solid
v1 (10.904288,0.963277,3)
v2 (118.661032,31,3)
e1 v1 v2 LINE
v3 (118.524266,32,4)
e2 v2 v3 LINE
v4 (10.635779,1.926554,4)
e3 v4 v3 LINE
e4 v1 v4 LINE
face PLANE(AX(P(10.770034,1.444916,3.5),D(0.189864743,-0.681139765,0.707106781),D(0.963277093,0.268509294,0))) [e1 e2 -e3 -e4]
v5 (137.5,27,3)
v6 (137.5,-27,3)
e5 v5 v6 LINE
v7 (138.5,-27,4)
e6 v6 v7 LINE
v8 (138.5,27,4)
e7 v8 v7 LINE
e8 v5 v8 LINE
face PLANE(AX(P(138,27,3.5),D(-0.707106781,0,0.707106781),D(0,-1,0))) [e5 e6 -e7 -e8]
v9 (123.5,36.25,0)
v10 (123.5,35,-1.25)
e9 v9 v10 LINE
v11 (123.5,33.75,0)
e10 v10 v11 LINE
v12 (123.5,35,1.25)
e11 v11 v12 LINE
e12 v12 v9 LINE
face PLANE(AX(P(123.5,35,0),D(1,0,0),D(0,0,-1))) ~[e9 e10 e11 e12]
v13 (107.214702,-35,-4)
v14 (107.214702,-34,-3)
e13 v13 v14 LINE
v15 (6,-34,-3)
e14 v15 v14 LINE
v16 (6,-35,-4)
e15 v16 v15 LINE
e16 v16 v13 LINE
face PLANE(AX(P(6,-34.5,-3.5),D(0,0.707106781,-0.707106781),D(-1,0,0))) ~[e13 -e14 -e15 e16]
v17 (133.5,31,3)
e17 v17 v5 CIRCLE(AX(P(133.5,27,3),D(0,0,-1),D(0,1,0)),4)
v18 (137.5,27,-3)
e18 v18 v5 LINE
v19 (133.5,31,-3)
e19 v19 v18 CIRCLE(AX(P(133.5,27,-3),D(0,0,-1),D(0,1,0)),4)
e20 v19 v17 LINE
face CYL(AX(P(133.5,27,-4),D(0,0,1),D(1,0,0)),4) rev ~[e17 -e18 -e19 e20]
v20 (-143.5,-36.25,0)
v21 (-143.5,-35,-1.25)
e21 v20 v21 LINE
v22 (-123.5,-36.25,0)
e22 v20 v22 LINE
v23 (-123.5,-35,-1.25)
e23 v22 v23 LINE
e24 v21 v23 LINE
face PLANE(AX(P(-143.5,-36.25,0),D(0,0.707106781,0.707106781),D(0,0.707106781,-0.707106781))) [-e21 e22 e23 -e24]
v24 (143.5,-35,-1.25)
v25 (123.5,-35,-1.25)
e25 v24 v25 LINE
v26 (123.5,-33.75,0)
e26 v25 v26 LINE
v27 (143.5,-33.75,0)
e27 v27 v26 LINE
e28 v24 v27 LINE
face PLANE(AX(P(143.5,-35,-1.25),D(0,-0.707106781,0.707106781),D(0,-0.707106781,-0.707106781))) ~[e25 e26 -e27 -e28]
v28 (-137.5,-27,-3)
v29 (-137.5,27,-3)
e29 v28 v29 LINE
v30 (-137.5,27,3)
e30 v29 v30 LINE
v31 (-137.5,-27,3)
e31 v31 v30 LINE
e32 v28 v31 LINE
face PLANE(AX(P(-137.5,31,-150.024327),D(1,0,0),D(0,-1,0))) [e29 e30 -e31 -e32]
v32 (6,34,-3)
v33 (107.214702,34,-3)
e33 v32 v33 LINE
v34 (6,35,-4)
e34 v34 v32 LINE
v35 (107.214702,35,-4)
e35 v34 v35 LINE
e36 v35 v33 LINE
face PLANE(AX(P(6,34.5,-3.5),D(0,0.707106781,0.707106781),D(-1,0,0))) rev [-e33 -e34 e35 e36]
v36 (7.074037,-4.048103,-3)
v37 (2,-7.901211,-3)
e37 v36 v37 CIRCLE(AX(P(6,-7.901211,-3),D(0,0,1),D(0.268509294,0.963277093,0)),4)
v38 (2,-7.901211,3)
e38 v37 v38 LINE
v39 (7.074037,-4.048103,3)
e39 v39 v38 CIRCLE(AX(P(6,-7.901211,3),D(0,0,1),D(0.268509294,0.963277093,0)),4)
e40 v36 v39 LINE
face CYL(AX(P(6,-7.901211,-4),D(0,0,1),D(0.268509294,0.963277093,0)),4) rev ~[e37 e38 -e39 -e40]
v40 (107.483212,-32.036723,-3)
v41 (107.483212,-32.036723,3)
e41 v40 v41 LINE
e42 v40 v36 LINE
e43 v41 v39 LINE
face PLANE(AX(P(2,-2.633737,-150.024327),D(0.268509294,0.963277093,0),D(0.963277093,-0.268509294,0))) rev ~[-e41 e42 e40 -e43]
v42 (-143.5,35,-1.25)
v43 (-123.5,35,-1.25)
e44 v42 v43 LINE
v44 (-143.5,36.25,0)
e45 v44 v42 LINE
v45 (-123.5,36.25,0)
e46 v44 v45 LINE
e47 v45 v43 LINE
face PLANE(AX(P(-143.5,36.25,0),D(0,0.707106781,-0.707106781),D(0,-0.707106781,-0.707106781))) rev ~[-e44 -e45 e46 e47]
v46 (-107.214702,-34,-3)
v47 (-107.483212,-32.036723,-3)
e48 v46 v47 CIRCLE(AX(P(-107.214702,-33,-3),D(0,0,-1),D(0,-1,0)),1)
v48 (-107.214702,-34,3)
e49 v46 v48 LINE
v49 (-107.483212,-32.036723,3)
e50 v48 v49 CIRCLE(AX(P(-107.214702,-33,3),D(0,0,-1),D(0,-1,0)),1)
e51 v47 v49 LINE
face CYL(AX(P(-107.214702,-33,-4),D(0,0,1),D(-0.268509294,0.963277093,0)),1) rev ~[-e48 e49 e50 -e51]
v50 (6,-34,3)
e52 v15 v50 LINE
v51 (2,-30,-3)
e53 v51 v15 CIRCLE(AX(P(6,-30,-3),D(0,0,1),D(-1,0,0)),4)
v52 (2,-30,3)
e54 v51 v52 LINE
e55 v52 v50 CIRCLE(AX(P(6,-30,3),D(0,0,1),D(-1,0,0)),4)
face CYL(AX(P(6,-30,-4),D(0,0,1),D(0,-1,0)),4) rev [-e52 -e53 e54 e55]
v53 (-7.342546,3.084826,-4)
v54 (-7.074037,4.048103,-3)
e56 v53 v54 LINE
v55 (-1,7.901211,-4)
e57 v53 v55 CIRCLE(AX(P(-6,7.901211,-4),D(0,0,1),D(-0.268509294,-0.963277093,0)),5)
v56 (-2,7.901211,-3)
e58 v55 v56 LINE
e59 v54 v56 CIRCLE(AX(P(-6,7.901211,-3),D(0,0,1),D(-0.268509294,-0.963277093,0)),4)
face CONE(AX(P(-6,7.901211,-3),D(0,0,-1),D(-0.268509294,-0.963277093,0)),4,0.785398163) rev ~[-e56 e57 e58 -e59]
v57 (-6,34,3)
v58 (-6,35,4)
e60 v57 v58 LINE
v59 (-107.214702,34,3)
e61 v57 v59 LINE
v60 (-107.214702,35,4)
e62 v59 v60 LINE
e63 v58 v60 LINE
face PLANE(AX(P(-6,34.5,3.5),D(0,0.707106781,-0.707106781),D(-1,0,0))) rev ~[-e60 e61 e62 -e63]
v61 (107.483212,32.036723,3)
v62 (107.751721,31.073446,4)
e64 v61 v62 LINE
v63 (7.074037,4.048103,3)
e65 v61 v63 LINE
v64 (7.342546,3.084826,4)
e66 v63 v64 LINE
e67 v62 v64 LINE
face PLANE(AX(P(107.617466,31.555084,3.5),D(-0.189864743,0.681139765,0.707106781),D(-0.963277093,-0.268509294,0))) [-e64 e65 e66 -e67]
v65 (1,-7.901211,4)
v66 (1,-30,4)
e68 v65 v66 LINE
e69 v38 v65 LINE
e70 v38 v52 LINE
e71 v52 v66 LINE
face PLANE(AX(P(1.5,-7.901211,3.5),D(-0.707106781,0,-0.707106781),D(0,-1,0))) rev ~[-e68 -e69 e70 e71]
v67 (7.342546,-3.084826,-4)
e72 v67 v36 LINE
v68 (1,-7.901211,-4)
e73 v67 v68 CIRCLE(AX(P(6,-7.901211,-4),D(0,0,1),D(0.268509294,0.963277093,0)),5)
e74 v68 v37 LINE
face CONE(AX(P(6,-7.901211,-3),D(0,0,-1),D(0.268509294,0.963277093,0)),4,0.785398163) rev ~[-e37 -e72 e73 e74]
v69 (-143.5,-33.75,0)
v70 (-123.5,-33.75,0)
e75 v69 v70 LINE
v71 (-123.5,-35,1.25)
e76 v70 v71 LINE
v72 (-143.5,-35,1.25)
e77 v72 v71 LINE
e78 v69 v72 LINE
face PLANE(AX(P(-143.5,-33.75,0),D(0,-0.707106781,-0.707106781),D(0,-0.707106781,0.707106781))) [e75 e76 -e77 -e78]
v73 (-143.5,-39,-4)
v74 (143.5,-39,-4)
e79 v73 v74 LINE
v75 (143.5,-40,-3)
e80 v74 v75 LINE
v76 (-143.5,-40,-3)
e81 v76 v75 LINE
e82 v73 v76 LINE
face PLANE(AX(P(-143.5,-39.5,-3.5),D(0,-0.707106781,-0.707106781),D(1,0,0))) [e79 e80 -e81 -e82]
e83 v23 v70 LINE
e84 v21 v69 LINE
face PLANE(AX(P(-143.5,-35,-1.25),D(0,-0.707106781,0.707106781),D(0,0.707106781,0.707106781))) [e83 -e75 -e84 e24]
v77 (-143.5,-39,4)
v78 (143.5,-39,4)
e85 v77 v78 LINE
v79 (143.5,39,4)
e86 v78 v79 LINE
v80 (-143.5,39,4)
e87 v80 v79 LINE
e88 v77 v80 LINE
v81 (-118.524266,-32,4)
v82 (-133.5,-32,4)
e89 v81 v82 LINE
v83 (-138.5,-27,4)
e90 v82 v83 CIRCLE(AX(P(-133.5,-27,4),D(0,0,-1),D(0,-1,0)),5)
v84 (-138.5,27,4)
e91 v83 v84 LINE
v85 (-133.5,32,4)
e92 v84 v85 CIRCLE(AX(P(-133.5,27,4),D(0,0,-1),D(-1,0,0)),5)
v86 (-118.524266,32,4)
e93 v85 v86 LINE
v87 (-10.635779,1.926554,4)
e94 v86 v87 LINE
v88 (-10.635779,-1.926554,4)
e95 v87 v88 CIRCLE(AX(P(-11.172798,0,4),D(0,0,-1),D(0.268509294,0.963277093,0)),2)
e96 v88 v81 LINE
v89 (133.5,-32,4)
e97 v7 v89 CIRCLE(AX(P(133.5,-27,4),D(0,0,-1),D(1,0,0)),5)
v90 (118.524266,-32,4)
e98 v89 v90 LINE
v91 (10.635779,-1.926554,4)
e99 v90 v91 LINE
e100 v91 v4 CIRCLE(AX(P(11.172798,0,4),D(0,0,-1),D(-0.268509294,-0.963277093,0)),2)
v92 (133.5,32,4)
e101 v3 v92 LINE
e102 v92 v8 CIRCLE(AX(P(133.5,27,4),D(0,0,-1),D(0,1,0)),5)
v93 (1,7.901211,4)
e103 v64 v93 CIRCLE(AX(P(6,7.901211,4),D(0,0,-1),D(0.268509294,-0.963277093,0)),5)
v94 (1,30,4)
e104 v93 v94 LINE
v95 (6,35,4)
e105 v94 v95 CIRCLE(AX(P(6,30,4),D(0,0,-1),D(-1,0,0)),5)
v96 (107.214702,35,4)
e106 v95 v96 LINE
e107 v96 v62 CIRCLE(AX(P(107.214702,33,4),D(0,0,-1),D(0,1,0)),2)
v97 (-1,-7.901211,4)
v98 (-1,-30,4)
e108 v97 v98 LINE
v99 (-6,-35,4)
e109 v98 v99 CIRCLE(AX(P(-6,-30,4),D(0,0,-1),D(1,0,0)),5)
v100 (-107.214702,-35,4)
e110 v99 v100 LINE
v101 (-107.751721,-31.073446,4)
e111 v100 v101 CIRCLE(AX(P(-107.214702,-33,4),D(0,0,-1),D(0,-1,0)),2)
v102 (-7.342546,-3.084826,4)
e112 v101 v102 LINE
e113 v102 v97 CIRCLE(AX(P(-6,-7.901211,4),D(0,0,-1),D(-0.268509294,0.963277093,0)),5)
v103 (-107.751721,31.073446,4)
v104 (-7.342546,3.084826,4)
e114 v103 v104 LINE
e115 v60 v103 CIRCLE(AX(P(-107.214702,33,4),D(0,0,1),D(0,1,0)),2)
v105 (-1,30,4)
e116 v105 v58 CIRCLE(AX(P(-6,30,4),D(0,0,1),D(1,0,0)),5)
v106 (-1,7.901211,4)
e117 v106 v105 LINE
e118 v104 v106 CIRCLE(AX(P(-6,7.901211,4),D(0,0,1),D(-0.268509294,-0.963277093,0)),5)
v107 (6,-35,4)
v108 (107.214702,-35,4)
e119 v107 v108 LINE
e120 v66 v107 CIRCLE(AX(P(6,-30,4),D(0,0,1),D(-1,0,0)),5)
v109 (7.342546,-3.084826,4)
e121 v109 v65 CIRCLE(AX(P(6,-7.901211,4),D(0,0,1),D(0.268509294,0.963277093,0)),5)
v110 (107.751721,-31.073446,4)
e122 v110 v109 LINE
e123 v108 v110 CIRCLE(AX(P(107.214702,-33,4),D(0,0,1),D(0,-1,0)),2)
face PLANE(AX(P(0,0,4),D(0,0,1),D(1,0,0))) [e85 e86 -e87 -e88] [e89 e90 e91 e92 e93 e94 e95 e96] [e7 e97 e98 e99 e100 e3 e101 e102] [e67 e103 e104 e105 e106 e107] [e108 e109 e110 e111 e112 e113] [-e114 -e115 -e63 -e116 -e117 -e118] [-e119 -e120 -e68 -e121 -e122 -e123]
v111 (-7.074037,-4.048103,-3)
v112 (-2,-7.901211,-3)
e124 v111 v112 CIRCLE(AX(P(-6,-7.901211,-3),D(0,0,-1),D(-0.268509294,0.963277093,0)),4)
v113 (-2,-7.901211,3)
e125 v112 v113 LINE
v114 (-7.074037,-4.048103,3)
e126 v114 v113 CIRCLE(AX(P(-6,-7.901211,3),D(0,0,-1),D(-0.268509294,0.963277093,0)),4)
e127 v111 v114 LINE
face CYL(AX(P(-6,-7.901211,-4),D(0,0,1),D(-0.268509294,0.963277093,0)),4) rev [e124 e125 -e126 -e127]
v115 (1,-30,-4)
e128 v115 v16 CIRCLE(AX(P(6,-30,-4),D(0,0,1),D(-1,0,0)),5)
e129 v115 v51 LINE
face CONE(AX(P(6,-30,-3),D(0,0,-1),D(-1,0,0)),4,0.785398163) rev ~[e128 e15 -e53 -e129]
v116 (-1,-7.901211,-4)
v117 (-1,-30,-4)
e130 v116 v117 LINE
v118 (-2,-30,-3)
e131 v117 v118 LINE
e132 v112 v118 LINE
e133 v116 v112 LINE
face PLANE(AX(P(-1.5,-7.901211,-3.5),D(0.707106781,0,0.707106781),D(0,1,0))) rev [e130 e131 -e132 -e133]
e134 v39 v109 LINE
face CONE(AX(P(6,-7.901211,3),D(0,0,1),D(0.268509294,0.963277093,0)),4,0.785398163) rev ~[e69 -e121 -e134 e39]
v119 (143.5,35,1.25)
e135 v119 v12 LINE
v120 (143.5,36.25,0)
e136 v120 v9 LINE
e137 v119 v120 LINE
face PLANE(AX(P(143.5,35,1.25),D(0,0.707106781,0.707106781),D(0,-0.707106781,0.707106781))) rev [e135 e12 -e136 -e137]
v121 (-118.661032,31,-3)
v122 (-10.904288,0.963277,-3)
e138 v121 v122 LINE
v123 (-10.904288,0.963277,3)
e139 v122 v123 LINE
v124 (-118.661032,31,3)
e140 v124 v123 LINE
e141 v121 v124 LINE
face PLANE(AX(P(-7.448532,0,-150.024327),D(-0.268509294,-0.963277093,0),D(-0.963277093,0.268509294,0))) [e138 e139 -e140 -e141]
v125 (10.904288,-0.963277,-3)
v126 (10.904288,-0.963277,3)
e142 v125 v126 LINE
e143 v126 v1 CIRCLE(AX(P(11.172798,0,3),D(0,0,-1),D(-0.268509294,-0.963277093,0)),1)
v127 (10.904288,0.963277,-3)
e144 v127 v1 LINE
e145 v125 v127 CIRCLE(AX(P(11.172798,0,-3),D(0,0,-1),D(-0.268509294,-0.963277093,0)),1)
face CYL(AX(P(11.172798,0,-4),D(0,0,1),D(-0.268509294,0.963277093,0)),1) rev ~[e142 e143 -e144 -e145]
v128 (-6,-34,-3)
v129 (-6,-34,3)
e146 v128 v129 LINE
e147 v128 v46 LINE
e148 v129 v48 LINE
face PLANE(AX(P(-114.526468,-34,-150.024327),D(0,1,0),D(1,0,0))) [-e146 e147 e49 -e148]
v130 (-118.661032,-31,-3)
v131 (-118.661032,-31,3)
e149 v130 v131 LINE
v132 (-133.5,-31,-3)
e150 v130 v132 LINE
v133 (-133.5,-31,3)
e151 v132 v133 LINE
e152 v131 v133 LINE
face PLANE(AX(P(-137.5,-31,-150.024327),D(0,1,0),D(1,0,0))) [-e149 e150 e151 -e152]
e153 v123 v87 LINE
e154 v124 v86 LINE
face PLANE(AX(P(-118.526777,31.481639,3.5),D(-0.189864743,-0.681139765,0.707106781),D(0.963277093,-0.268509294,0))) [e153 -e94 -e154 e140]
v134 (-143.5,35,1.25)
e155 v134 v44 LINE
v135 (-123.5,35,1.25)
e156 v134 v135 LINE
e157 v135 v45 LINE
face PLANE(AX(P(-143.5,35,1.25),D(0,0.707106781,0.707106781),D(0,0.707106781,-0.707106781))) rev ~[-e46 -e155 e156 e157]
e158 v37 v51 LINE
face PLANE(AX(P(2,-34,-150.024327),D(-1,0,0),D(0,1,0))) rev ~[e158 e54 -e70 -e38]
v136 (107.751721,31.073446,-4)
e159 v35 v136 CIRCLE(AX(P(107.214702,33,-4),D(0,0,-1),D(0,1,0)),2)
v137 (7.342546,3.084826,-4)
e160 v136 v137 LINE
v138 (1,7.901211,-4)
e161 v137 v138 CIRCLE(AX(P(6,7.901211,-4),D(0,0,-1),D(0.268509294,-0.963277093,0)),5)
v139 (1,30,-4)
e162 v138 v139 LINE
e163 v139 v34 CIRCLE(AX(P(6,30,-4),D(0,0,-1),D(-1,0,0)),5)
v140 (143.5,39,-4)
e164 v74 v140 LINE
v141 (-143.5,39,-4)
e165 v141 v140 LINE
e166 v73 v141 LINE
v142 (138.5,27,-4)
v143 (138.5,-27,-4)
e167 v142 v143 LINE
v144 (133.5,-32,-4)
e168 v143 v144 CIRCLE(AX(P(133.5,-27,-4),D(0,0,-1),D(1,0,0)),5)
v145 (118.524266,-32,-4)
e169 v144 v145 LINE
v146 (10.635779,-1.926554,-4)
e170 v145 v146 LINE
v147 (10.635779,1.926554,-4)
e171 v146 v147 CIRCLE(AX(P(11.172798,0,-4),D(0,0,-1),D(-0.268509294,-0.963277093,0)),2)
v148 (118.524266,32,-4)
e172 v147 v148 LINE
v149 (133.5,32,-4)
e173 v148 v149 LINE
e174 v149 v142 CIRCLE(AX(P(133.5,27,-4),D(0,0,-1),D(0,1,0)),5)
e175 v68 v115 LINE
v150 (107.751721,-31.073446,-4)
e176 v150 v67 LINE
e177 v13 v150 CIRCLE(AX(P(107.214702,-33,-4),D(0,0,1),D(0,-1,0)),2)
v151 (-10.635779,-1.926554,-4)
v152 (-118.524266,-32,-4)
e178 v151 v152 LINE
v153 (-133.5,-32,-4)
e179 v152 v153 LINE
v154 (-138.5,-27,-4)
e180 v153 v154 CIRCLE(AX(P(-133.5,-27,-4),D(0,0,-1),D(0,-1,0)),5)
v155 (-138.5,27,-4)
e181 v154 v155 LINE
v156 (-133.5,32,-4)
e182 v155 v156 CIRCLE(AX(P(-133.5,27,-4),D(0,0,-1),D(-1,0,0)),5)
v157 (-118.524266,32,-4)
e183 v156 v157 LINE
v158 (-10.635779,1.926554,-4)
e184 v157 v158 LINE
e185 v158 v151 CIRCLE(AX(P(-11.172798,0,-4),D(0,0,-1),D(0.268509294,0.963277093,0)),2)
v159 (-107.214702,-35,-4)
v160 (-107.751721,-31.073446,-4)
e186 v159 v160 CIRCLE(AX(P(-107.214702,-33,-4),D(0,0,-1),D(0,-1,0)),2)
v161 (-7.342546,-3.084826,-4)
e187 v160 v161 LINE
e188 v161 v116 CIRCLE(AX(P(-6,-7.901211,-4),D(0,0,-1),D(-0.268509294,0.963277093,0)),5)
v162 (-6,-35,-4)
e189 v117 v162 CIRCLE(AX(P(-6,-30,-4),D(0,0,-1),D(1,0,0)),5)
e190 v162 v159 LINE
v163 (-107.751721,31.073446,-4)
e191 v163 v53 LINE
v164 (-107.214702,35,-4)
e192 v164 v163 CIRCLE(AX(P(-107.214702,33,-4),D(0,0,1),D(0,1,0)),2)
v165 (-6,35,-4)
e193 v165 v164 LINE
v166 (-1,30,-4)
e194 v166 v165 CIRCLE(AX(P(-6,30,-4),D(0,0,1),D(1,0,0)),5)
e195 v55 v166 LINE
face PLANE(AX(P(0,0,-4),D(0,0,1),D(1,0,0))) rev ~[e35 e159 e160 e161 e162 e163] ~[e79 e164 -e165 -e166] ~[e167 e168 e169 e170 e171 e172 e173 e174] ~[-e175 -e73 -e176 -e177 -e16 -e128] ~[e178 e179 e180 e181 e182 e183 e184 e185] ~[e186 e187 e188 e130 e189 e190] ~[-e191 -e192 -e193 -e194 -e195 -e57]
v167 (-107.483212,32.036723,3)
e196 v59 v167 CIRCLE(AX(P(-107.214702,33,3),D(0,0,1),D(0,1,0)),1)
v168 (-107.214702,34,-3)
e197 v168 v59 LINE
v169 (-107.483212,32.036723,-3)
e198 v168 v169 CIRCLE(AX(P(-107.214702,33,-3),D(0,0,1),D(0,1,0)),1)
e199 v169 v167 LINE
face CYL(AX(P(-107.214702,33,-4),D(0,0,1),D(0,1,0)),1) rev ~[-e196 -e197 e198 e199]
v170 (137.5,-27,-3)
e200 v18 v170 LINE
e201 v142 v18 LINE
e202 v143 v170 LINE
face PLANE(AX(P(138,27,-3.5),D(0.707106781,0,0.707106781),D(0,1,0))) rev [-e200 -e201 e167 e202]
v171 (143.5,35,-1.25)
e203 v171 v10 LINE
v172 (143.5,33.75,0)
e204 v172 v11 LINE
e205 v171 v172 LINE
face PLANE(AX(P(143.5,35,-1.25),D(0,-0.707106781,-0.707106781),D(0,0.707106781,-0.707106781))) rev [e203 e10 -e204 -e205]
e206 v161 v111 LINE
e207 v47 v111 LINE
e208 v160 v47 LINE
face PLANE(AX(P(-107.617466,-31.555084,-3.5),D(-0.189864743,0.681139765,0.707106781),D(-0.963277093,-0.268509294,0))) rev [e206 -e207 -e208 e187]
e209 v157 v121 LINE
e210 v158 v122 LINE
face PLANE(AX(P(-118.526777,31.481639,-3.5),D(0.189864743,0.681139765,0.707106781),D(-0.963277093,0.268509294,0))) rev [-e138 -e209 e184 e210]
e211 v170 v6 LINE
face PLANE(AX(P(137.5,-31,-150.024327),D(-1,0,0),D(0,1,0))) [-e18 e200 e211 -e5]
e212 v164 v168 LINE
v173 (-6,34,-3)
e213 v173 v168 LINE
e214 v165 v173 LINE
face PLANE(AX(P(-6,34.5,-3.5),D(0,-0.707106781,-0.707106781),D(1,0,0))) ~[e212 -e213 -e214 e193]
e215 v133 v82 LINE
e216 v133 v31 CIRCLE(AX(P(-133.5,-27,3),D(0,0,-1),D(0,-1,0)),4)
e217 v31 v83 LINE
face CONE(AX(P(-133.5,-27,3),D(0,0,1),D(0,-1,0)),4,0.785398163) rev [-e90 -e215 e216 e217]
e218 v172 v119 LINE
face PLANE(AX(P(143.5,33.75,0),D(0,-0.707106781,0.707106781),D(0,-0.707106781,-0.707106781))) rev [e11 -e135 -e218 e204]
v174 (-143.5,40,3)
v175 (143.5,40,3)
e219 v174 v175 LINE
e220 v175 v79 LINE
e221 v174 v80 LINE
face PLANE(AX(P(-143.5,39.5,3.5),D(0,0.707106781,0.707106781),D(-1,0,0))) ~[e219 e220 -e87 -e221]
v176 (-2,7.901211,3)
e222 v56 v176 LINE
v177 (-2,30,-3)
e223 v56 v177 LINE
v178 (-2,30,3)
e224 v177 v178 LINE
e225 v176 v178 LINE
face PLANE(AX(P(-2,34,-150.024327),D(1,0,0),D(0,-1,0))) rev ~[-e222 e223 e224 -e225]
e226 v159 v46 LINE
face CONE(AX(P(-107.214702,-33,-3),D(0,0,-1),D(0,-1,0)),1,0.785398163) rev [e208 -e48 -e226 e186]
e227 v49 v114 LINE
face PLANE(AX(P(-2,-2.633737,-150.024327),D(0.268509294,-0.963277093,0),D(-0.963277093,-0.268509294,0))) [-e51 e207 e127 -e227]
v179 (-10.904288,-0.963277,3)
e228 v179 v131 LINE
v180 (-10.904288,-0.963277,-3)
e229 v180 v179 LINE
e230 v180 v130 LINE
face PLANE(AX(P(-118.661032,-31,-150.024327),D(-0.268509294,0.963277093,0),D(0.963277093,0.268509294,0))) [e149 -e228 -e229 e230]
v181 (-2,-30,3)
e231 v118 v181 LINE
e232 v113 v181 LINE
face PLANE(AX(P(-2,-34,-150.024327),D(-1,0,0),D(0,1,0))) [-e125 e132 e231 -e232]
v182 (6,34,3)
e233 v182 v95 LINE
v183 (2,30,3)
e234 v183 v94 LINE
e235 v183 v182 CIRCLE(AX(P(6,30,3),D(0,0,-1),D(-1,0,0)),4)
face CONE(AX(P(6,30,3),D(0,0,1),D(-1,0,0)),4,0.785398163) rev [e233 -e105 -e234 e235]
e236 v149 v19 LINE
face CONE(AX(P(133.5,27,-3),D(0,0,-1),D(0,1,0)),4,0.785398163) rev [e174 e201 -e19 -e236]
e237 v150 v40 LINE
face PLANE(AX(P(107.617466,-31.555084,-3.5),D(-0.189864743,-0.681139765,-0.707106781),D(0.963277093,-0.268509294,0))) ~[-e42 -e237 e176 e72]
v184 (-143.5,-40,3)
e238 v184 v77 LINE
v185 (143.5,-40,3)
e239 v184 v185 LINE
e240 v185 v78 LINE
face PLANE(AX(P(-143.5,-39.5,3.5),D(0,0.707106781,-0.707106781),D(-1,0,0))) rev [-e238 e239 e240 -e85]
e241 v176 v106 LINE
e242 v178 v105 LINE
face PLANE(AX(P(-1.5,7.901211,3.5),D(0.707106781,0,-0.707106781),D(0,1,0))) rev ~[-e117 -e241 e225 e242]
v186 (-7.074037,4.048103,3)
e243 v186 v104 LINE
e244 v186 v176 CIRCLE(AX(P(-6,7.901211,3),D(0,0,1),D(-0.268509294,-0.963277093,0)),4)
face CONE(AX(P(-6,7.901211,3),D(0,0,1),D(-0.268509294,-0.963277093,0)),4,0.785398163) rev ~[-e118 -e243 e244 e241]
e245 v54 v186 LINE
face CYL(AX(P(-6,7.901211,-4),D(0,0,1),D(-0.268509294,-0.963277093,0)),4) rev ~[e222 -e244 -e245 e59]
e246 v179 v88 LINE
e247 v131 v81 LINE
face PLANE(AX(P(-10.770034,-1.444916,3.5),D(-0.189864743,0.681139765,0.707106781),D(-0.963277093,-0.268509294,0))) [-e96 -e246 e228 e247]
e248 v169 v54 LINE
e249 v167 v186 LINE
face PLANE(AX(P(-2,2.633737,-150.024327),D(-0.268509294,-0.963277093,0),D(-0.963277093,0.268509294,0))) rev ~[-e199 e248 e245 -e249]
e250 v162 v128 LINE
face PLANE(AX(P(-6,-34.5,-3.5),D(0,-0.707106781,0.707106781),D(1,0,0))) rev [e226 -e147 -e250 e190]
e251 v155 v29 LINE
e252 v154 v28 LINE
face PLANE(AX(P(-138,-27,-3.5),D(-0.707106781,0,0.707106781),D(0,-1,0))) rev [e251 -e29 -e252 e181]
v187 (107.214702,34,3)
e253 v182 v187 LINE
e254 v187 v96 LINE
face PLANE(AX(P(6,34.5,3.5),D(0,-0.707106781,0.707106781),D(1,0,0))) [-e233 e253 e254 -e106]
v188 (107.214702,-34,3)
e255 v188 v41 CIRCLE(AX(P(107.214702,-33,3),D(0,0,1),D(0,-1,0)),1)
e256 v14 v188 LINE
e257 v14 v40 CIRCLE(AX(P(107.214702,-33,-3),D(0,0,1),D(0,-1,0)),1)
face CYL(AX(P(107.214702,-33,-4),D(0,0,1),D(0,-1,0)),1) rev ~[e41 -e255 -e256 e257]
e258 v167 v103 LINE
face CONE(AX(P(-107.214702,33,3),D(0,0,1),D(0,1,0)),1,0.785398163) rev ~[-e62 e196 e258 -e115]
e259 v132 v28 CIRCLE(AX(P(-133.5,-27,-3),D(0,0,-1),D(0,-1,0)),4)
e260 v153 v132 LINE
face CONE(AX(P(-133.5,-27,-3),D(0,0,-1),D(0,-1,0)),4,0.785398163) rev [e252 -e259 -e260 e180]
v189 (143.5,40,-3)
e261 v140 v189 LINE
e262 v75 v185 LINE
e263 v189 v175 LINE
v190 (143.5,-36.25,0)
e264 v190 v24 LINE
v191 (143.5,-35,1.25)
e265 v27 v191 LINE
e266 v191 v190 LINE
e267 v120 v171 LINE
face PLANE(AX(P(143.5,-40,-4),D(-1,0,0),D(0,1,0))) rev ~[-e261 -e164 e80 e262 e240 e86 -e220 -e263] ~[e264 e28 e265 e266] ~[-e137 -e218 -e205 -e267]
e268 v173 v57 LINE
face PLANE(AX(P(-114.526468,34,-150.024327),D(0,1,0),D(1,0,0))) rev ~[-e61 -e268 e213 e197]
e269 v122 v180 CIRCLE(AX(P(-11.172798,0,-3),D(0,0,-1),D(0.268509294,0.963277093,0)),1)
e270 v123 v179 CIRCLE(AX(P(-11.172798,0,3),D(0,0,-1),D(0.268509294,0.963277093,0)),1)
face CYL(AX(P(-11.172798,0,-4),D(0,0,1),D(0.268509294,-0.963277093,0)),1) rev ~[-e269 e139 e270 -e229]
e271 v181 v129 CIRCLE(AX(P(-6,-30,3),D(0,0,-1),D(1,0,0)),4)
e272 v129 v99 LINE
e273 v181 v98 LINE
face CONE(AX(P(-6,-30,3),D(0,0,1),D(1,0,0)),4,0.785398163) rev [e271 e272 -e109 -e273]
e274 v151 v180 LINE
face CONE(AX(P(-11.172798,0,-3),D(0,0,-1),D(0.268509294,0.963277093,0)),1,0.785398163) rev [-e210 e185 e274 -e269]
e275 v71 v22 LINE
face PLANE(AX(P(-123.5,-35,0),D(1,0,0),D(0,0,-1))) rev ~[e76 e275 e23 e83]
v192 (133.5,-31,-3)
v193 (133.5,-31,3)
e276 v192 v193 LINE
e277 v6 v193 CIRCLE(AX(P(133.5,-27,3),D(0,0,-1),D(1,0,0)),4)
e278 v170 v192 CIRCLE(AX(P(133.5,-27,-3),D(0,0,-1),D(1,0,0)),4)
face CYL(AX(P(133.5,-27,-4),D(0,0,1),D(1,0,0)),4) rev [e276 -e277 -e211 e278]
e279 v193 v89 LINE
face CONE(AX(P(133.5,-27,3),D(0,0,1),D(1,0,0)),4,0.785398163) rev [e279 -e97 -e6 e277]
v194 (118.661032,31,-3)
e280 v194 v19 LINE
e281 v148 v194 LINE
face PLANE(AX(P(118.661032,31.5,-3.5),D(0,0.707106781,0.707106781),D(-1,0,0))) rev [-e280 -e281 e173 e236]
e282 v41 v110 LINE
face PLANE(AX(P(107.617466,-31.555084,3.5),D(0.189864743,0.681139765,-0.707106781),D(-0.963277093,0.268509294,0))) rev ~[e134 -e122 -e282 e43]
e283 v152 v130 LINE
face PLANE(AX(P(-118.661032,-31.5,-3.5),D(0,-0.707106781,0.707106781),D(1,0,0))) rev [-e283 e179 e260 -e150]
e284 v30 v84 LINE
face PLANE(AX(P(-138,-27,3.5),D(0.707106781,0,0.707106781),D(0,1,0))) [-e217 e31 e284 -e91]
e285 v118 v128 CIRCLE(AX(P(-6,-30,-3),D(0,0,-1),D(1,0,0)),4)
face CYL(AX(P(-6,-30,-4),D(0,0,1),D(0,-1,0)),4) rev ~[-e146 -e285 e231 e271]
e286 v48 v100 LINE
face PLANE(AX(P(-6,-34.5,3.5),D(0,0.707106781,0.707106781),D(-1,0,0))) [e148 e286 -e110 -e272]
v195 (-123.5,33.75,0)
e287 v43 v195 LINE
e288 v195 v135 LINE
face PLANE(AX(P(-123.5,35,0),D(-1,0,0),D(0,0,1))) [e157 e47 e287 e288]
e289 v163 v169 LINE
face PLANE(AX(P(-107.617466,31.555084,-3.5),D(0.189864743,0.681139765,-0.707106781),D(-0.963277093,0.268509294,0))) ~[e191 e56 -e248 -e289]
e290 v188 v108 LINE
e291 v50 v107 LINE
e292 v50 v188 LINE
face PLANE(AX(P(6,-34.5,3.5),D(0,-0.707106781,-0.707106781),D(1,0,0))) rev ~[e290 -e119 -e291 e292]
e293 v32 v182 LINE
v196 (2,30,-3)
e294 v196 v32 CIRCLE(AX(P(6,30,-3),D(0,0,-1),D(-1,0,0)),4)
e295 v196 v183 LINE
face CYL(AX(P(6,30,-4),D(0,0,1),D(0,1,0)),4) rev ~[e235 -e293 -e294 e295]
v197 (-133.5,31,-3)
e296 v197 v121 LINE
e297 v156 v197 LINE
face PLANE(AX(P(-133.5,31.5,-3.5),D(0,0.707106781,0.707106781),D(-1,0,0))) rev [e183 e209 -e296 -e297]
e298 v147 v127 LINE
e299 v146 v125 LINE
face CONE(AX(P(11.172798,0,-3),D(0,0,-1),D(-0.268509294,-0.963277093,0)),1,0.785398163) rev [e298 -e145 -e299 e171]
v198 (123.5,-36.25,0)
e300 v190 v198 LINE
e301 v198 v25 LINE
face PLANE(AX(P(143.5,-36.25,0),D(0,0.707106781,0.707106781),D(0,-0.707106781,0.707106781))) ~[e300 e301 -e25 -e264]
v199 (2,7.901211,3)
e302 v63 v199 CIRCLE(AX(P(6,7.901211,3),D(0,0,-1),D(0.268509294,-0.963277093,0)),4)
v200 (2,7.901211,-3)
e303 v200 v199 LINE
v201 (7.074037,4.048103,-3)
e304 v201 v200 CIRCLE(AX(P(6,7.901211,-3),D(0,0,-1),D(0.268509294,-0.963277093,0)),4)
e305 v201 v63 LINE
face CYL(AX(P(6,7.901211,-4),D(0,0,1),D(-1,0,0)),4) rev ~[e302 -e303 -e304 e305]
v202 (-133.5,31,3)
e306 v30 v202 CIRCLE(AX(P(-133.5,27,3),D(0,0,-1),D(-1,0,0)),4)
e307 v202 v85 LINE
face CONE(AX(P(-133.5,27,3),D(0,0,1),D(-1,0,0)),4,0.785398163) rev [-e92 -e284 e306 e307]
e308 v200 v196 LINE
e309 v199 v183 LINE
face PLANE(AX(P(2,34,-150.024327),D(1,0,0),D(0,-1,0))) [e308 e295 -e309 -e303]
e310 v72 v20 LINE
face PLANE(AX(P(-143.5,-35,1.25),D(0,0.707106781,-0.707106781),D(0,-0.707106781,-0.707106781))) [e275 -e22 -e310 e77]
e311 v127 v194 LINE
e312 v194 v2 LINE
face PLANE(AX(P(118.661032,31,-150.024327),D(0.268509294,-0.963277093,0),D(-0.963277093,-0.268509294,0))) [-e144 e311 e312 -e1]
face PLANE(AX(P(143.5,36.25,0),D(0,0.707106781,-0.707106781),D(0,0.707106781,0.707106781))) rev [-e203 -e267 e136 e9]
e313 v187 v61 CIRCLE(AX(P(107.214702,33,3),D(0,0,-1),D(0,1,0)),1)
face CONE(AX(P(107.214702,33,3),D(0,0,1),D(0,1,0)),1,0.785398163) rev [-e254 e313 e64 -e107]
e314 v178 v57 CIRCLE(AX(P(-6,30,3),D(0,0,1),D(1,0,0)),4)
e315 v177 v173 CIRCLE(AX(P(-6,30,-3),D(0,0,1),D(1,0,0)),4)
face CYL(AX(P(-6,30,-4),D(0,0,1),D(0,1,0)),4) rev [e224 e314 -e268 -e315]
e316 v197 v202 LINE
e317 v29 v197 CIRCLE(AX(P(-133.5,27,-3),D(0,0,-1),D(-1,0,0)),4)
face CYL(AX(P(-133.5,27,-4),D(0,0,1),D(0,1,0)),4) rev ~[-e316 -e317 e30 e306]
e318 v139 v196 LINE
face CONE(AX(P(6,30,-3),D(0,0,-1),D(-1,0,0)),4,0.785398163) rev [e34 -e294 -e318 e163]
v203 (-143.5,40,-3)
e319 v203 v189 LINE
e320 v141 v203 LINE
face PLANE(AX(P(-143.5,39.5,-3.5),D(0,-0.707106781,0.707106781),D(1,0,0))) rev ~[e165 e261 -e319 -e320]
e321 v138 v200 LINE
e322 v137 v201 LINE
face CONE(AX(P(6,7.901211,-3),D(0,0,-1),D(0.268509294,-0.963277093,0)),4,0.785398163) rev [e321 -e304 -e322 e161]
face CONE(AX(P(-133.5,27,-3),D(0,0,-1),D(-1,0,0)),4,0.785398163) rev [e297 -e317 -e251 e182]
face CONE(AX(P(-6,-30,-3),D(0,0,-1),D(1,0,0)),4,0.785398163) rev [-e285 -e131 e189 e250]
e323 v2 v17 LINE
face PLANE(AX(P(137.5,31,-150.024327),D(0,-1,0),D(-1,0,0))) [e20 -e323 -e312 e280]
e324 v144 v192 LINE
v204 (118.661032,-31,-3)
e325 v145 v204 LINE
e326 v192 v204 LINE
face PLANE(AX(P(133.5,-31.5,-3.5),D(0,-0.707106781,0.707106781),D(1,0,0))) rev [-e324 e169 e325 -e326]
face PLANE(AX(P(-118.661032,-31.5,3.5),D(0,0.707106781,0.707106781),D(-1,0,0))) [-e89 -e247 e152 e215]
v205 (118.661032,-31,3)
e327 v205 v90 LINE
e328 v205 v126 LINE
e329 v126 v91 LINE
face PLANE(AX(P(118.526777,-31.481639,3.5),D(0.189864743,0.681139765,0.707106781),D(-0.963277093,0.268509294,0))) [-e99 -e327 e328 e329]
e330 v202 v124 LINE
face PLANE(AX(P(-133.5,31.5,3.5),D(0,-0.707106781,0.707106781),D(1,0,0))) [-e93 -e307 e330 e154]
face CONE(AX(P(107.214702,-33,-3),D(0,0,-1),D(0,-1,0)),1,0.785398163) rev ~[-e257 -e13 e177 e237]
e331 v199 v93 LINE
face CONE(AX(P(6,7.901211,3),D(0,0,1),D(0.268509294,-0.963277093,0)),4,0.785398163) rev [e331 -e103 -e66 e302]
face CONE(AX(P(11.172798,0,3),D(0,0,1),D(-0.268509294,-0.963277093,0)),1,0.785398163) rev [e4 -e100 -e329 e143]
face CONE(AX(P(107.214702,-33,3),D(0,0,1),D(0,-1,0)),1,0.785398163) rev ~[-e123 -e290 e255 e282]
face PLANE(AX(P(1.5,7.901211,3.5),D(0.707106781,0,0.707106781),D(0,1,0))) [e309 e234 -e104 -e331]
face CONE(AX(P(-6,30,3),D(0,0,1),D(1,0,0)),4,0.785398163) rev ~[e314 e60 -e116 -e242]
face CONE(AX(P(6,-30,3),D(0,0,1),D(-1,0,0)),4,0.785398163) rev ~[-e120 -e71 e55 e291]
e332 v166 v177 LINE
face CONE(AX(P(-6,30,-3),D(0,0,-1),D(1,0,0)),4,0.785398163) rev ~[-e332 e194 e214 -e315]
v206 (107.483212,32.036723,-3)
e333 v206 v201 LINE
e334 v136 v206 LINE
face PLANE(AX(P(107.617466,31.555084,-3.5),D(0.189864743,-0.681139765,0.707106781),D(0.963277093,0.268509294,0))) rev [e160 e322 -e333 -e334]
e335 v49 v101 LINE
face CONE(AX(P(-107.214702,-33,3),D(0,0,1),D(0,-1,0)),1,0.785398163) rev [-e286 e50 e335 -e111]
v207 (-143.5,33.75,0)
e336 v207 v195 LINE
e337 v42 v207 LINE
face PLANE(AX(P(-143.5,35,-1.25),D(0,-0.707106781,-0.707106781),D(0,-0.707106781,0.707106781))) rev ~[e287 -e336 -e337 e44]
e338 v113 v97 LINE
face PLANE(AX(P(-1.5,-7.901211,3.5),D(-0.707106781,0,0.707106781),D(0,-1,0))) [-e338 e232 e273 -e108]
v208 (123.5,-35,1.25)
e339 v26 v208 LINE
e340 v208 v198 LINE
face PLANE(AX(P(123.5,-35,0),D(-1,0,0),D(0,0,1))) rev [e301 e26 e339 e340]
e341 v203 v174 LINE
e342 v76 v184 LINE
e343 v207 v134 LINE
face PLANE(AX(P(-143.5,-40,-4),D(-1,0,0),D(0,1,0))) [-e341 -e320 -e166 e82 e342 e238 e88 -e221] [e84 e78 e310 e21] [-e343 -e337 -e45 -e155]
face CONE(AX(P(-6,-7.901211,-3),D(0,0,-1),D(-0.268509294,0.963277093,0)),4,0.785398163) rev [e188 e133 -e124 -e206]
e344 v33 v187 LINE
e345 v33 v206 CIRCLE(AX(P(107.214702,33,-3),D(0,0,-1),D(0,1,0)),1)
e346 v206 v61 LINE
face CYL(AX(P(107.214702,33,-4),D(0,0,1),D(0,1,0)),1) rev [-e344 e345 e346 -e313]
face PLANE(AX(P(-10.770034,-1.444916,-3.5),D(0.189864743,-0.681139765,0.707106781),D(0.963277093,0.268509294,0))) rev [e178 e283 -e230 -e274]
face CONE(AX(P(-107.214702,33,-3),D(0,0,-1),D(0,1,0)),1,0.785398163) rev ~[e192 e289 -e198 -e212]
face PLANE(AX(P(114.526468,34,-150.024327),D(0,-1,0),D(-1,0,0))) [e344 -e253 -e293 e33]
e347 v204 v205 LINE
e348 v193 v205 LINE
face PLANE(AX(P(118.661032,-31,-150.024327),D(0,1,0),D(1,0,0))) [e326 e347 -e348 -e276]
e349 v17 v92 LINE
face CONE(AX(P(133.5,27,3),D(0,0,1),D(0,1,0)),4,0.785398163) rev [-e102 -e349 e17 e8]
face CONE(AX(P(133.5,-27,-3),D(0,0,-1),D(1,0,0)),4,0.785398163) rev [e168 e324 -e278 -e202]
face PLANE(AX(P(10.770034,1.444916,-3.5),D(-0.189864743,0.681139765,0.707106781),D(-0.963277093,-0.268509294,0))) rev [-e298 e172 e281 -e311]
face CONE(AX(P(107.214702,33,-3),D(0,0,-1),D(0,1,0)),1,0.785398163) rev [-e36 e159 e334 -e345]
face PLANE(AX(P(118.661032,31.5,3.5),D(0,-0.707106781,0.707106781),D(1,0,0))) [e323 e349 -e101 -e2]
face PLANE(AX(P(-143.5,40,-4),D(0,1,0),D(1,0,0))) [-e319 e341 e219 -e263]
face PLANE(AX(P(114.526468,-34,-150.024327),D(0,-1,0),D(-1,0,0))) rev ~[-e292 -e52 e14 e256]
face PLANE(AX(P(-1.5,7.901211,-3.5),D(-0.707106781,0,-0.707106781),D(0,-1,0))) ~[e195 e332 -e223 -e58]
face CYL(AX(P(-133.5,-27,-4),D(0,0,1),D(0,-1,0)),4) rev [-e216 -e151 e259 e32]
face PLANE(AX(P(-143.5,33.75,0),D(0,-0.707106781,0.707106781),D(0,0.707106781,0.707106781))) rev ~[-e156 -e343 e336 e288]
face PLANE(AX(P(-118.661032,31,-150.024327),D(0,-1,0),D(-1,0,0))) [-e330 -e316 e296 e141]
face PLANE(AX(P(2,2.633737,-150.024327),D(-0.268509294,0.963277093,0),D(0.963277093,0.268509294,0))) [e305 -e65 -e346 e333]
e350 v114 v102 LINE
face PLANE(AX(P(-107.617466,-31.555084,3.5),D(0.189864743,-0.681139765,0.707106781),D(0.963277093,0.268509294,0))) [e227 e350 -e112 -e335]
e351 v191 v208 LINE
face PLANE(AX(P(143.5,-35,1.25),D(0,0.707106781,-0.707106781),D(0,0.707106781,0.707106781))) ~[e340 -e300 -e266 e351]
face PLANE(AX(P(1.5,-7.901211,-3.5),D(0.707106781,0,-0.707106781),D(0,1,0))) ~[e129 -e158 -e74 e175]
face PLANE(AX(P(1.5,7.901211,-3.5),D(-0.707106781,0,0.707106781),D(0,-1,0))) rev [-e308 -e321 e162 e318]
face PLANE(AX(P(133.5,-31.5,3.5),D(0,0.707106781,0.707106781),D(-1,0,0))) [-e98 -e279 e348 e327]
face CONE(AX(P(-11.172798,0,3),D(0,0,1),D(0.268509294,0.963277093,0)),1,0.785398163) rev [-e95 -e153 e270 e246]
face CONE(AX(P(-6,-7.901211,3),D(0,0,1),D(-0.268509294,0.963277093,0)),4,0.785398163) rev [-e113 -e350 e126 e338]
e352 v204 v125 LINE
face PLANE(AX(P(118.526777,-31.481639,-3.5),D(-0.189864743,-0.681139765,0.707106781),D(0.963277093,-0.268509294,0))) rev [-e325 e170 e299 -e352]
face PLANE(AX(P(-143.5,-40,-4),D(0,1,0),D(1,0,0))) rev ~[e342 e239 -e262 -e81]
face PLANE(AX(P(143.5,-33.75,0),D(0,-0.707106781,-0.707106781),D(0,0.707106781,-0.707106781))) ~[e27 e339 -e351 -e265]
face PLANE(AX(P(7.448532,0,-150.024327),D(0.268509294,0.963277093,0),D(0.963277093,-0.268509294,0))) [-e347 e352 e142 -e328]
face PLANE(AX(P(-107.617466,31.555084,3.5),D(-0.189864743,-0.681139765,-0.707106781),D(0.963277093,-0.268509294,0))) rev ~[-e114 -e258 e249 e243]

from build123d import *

# Parameters (mm, degrees)
AUFSATZ_LINEAR_AUSTRAGEN1_DEPTH      = 4
AUFSATZ_LINEAR_AUSTRAGEN1_DEPTH_BACK = 4
SKIZZE1_W                            = 287
SKIZZE1_H                            = 80
SCHNITT_LINEAR_AUSTRAGEN1_DEPTH      = 20
SCHNITT_LINEAR_AUSTRAGEN2_DEPTH      = 150.024326873
SCHNITT_LINEAR_AUSTRAGEN2_DEPTH_BACK = 150.024326873
VERRUNDUNG1_R                        = 4
VERRUNDUNG2_R                        = 1
FASE1_SIZE                           = 1


with BuildPart() as part:
    # Skizze1 → Aufsatz-Linear austragen1 (new, two sides: drawn at the far end of the back side and taken through both)
    with BuildSketch(Plane.XY.offset(-AUFSATZ_LINEAR_AUSTRAGEN1_DEPTH_BACK)):
        Rectangle(SKIZZE1_W, SKIZZE1_H)
    extrude(amount=AUFSATZ_LINEAR_AUSTRAGEN1_DEPTH + AUFSATZ_LINEAR_AUSTRAGEN1_DEPTH_BACK)

    # Skizze2 → Schnitt-Linear austragen1 (cut)
    with BuildSketch(Plane.ZY.offset(143.5)):
        Polygon((1.25, 35), (0, 36.25), (-1.25, 35), (0, 33.75), align=None)
        Polygon((-1.25, -35), (0, -33.75), (1.25, -35), (0, -36.25), align=None)
    schnitt_linear_austragen1 = extrude(amount=-SCHNITT_LINEAR_AUSTRAGEN1_DEPTH, mode=Mode.SUBTRACT)

    # Spiegeln1: Schnitt-Linear austragen1 across plane
    add(schnitt_linear_austragen1.mirror(Plane(origin=(0, 0, 0), x_dir=(0, 0, 1), z_dir=(1, 0, 0))), mode=Mode.SUBTRACT)

    # Skizze3 → Schnitt-Linear austragen2 (cut, two sides: drawn at the far end of the back side and taken through both)
    with BuildSketch(Plane.XY.offset(-SCHNITT_LINEAR_AUSTRAGEN2_DEPTH_BACK)):
        Polygon((-114.526468265, 34), (-2, 34), (-2, 2.633737069), align=None)
        Polygon((-137.5, 31), (-137.5, 0), (-137.5, -31), (-118.661031735, -31), (-7.448531735, 0), (-118.661031735, 31), align=None)
        Polygon((-2, -34), (-2, -2.633737069), (-114.526468265, -34), align=None)
        Polygon((118.661031735, -31), (137.5, -31), (137.5, 0), (137.5, 31), (118.661031735, 31), (7.448531735, 0), align=None)
        Polygon((114.526468265, -34), (2, -34), (2, -2.633737069), align=None)
        Polygon((2, 2.633737069), (114.526468265, 34), (2, 34), align=None)
    extrude(amount=SCHNITT_LINEAR_AUSTRAGEN2_DEPTH + SCHNITT_LINEAR_AUSTRAGEN2_DEPTH_BACK, mode=Mode.SUBTRACT)

    # Verrundung1
    verrundung1_edges = [part.edges().sort_by_distance(p)[0] for p in [
        (2, -2.633737069, 0),
        (2, -34, 0),
        (137.5, 31, 0),
        (137.5, -31, 0),
        (2, 2.633737069, 0),
        (2, 34, 0),
        (-2, 2.633737069, 0),
        (-2, 34, 0),
        (-2, -34, 0),
        (-2, -2.633737069, 0),
        (-137.5, -31, 0),
        (-137.5, 31, 0),
    ]]
    fillet(verrundung1_edges, radius=VERRUNDUNG1_R)

    # Verrundung2
    verrundung2_edges = [part.edges().sort_by_distance(p)[0] for p in [
        (-7.448531735, 0, 0),
        (114.526468265, -34, 0),
        (7.448531735, 0, 0),
        (114.526468265, 34, 0),
        (-114.526468265, 34, 0),
        (-114.526468265, -34, 0),
    ]]
    fillet(verrundung2_edges, radius=VERRUNDUNG2_R)

    # Fase1
    fase1_edges = [part.edges().sort_by_distance(p)[0] for p in [
        (0, -40, -4),
        (-64.782660021, -15.981638547, -4),
        (-64.782660021, -15.981638547, 4),
        (-126.080515867, 31, 4),
        (64.782660021, 15.981638547, -4),
        (126.080515867, -31, -4),
        (126.080515867, -31, 4),
        (64.782660021, 15.981638547, 4),
        (0, 40, 4),
        (0, -40, 4),
        (137.5, 0, -4),
        (137.5, 0, 4),
        (126.080515867, 31, -4),
        (126.080515867, 31, 4),
        (56.607351199, -34, -4),
        (56.607351199, -34, 4),
        (2, -18.950605603, -4),
        (2, -18.950605603, 4),
        (57.278624435, 18.04241287, -4),
        (57.278624435, 18.04241287, 4),
        (2, 18.950605603, -4),
        (2, 18.950605603, 4),
        (-2, 18.950605603, -4),
        (-2, 18.950605603, 4),
        (-57.278624435, -18.04241287, -4),
        (-57.278624435, -18.04241287, 4),
        (-2, -18.950605603, -4),
        (-2, -18.950605603, 4),
        (-56.607351199, 34, -4),
        (-56.607351199, 34, 4),
        (-126.080515867, -31, -4),
        (-126.080515867, -31, 4),
        (-137.5, 0, -4),
        (-137.5, 0, 4),
        (136.328427125, -29.828427125, 4),
        (136.328427125, -29.828427125, -4),
        (136.328427125, 29.828427125, 4),
        (136.328427125, 29.828427125, -4),
        (3.171572875, -32.828427125, 4),
        (3.171572875, -32.828427125, -4),
        (3.58092463, -4.71560697, 4),
        (3.58092463, -4.71560697, -4),
        (3.58092463, 4.71560697, 4),
        (3.58092463, 4.71560697, -4),
        (3.171572875, 32.828427125, 4),
        (3.171572875, 32.828427125, -4),
        (-3.58092463, 4.71560697, 4),
        (-3.58092463, 4.71560697, -4),
        (-3.58092463, -4.71560697, 4),
        (-3.58092463, -4.71560697, -4),
        (-3.171572875, -32.828427125, 4),
        (-3.171572875, -32.828427125, -4),
        (-3.171572875, 32.828427125, 4),
        (-3.171572875, 32.828427125, -4),
        (-136.328427125, -29.828427125, 4),
        (-136.328427125, -29.828427125, -4),
        (-136.328427125, 29.828427125, 4),
        (-136.328427125, 29.828427125, -4),
        (57.278624435, -18.04241287, 4),
        (57.278624435, -18.04241287, -4),
        (56.607351199, 34, 4),
        (56.607351199, 34, -4),
        (64.782660021, -15.981638547, -4),
        (64.782660021, -15.981638547, 4),
        (-64.782660021, 15.981638547, -4),
        (-64.782660021, 15.981638547, 4),
        (-56.607351199, -34, 4),
        (-56.607351199, -34, -4),
        (-57.278624435, 18.04241287, 4),
        (-57.278624435, 18.04241287, -4),
        (108.205479137, -33.13550444, 4),
        (108.205479137, -33.13550444, -4),
        (108.205479137, 33.13550444, 4),
        (108.205479137, 33.13550444, -4),
        (10.172797602, 0, 4),
        (10.172797602, 0, -4),
        (-10.172797602, 0, 4),
        (-10.172797602, 0, -4),
        (-108.205479137, -33.13550444, 4),
        (-108.205479137, -33.13550444, -4),
        (-108.205479137, 33.13550444, 4),
        (-108.205479137, 33.13550444, -4),
        (0, 40, -4),
        (-126.080515867, 31, -4),
    ]]
    chamfer(fase1_edges, length=FASE1_SIZE)


solid = part.part
